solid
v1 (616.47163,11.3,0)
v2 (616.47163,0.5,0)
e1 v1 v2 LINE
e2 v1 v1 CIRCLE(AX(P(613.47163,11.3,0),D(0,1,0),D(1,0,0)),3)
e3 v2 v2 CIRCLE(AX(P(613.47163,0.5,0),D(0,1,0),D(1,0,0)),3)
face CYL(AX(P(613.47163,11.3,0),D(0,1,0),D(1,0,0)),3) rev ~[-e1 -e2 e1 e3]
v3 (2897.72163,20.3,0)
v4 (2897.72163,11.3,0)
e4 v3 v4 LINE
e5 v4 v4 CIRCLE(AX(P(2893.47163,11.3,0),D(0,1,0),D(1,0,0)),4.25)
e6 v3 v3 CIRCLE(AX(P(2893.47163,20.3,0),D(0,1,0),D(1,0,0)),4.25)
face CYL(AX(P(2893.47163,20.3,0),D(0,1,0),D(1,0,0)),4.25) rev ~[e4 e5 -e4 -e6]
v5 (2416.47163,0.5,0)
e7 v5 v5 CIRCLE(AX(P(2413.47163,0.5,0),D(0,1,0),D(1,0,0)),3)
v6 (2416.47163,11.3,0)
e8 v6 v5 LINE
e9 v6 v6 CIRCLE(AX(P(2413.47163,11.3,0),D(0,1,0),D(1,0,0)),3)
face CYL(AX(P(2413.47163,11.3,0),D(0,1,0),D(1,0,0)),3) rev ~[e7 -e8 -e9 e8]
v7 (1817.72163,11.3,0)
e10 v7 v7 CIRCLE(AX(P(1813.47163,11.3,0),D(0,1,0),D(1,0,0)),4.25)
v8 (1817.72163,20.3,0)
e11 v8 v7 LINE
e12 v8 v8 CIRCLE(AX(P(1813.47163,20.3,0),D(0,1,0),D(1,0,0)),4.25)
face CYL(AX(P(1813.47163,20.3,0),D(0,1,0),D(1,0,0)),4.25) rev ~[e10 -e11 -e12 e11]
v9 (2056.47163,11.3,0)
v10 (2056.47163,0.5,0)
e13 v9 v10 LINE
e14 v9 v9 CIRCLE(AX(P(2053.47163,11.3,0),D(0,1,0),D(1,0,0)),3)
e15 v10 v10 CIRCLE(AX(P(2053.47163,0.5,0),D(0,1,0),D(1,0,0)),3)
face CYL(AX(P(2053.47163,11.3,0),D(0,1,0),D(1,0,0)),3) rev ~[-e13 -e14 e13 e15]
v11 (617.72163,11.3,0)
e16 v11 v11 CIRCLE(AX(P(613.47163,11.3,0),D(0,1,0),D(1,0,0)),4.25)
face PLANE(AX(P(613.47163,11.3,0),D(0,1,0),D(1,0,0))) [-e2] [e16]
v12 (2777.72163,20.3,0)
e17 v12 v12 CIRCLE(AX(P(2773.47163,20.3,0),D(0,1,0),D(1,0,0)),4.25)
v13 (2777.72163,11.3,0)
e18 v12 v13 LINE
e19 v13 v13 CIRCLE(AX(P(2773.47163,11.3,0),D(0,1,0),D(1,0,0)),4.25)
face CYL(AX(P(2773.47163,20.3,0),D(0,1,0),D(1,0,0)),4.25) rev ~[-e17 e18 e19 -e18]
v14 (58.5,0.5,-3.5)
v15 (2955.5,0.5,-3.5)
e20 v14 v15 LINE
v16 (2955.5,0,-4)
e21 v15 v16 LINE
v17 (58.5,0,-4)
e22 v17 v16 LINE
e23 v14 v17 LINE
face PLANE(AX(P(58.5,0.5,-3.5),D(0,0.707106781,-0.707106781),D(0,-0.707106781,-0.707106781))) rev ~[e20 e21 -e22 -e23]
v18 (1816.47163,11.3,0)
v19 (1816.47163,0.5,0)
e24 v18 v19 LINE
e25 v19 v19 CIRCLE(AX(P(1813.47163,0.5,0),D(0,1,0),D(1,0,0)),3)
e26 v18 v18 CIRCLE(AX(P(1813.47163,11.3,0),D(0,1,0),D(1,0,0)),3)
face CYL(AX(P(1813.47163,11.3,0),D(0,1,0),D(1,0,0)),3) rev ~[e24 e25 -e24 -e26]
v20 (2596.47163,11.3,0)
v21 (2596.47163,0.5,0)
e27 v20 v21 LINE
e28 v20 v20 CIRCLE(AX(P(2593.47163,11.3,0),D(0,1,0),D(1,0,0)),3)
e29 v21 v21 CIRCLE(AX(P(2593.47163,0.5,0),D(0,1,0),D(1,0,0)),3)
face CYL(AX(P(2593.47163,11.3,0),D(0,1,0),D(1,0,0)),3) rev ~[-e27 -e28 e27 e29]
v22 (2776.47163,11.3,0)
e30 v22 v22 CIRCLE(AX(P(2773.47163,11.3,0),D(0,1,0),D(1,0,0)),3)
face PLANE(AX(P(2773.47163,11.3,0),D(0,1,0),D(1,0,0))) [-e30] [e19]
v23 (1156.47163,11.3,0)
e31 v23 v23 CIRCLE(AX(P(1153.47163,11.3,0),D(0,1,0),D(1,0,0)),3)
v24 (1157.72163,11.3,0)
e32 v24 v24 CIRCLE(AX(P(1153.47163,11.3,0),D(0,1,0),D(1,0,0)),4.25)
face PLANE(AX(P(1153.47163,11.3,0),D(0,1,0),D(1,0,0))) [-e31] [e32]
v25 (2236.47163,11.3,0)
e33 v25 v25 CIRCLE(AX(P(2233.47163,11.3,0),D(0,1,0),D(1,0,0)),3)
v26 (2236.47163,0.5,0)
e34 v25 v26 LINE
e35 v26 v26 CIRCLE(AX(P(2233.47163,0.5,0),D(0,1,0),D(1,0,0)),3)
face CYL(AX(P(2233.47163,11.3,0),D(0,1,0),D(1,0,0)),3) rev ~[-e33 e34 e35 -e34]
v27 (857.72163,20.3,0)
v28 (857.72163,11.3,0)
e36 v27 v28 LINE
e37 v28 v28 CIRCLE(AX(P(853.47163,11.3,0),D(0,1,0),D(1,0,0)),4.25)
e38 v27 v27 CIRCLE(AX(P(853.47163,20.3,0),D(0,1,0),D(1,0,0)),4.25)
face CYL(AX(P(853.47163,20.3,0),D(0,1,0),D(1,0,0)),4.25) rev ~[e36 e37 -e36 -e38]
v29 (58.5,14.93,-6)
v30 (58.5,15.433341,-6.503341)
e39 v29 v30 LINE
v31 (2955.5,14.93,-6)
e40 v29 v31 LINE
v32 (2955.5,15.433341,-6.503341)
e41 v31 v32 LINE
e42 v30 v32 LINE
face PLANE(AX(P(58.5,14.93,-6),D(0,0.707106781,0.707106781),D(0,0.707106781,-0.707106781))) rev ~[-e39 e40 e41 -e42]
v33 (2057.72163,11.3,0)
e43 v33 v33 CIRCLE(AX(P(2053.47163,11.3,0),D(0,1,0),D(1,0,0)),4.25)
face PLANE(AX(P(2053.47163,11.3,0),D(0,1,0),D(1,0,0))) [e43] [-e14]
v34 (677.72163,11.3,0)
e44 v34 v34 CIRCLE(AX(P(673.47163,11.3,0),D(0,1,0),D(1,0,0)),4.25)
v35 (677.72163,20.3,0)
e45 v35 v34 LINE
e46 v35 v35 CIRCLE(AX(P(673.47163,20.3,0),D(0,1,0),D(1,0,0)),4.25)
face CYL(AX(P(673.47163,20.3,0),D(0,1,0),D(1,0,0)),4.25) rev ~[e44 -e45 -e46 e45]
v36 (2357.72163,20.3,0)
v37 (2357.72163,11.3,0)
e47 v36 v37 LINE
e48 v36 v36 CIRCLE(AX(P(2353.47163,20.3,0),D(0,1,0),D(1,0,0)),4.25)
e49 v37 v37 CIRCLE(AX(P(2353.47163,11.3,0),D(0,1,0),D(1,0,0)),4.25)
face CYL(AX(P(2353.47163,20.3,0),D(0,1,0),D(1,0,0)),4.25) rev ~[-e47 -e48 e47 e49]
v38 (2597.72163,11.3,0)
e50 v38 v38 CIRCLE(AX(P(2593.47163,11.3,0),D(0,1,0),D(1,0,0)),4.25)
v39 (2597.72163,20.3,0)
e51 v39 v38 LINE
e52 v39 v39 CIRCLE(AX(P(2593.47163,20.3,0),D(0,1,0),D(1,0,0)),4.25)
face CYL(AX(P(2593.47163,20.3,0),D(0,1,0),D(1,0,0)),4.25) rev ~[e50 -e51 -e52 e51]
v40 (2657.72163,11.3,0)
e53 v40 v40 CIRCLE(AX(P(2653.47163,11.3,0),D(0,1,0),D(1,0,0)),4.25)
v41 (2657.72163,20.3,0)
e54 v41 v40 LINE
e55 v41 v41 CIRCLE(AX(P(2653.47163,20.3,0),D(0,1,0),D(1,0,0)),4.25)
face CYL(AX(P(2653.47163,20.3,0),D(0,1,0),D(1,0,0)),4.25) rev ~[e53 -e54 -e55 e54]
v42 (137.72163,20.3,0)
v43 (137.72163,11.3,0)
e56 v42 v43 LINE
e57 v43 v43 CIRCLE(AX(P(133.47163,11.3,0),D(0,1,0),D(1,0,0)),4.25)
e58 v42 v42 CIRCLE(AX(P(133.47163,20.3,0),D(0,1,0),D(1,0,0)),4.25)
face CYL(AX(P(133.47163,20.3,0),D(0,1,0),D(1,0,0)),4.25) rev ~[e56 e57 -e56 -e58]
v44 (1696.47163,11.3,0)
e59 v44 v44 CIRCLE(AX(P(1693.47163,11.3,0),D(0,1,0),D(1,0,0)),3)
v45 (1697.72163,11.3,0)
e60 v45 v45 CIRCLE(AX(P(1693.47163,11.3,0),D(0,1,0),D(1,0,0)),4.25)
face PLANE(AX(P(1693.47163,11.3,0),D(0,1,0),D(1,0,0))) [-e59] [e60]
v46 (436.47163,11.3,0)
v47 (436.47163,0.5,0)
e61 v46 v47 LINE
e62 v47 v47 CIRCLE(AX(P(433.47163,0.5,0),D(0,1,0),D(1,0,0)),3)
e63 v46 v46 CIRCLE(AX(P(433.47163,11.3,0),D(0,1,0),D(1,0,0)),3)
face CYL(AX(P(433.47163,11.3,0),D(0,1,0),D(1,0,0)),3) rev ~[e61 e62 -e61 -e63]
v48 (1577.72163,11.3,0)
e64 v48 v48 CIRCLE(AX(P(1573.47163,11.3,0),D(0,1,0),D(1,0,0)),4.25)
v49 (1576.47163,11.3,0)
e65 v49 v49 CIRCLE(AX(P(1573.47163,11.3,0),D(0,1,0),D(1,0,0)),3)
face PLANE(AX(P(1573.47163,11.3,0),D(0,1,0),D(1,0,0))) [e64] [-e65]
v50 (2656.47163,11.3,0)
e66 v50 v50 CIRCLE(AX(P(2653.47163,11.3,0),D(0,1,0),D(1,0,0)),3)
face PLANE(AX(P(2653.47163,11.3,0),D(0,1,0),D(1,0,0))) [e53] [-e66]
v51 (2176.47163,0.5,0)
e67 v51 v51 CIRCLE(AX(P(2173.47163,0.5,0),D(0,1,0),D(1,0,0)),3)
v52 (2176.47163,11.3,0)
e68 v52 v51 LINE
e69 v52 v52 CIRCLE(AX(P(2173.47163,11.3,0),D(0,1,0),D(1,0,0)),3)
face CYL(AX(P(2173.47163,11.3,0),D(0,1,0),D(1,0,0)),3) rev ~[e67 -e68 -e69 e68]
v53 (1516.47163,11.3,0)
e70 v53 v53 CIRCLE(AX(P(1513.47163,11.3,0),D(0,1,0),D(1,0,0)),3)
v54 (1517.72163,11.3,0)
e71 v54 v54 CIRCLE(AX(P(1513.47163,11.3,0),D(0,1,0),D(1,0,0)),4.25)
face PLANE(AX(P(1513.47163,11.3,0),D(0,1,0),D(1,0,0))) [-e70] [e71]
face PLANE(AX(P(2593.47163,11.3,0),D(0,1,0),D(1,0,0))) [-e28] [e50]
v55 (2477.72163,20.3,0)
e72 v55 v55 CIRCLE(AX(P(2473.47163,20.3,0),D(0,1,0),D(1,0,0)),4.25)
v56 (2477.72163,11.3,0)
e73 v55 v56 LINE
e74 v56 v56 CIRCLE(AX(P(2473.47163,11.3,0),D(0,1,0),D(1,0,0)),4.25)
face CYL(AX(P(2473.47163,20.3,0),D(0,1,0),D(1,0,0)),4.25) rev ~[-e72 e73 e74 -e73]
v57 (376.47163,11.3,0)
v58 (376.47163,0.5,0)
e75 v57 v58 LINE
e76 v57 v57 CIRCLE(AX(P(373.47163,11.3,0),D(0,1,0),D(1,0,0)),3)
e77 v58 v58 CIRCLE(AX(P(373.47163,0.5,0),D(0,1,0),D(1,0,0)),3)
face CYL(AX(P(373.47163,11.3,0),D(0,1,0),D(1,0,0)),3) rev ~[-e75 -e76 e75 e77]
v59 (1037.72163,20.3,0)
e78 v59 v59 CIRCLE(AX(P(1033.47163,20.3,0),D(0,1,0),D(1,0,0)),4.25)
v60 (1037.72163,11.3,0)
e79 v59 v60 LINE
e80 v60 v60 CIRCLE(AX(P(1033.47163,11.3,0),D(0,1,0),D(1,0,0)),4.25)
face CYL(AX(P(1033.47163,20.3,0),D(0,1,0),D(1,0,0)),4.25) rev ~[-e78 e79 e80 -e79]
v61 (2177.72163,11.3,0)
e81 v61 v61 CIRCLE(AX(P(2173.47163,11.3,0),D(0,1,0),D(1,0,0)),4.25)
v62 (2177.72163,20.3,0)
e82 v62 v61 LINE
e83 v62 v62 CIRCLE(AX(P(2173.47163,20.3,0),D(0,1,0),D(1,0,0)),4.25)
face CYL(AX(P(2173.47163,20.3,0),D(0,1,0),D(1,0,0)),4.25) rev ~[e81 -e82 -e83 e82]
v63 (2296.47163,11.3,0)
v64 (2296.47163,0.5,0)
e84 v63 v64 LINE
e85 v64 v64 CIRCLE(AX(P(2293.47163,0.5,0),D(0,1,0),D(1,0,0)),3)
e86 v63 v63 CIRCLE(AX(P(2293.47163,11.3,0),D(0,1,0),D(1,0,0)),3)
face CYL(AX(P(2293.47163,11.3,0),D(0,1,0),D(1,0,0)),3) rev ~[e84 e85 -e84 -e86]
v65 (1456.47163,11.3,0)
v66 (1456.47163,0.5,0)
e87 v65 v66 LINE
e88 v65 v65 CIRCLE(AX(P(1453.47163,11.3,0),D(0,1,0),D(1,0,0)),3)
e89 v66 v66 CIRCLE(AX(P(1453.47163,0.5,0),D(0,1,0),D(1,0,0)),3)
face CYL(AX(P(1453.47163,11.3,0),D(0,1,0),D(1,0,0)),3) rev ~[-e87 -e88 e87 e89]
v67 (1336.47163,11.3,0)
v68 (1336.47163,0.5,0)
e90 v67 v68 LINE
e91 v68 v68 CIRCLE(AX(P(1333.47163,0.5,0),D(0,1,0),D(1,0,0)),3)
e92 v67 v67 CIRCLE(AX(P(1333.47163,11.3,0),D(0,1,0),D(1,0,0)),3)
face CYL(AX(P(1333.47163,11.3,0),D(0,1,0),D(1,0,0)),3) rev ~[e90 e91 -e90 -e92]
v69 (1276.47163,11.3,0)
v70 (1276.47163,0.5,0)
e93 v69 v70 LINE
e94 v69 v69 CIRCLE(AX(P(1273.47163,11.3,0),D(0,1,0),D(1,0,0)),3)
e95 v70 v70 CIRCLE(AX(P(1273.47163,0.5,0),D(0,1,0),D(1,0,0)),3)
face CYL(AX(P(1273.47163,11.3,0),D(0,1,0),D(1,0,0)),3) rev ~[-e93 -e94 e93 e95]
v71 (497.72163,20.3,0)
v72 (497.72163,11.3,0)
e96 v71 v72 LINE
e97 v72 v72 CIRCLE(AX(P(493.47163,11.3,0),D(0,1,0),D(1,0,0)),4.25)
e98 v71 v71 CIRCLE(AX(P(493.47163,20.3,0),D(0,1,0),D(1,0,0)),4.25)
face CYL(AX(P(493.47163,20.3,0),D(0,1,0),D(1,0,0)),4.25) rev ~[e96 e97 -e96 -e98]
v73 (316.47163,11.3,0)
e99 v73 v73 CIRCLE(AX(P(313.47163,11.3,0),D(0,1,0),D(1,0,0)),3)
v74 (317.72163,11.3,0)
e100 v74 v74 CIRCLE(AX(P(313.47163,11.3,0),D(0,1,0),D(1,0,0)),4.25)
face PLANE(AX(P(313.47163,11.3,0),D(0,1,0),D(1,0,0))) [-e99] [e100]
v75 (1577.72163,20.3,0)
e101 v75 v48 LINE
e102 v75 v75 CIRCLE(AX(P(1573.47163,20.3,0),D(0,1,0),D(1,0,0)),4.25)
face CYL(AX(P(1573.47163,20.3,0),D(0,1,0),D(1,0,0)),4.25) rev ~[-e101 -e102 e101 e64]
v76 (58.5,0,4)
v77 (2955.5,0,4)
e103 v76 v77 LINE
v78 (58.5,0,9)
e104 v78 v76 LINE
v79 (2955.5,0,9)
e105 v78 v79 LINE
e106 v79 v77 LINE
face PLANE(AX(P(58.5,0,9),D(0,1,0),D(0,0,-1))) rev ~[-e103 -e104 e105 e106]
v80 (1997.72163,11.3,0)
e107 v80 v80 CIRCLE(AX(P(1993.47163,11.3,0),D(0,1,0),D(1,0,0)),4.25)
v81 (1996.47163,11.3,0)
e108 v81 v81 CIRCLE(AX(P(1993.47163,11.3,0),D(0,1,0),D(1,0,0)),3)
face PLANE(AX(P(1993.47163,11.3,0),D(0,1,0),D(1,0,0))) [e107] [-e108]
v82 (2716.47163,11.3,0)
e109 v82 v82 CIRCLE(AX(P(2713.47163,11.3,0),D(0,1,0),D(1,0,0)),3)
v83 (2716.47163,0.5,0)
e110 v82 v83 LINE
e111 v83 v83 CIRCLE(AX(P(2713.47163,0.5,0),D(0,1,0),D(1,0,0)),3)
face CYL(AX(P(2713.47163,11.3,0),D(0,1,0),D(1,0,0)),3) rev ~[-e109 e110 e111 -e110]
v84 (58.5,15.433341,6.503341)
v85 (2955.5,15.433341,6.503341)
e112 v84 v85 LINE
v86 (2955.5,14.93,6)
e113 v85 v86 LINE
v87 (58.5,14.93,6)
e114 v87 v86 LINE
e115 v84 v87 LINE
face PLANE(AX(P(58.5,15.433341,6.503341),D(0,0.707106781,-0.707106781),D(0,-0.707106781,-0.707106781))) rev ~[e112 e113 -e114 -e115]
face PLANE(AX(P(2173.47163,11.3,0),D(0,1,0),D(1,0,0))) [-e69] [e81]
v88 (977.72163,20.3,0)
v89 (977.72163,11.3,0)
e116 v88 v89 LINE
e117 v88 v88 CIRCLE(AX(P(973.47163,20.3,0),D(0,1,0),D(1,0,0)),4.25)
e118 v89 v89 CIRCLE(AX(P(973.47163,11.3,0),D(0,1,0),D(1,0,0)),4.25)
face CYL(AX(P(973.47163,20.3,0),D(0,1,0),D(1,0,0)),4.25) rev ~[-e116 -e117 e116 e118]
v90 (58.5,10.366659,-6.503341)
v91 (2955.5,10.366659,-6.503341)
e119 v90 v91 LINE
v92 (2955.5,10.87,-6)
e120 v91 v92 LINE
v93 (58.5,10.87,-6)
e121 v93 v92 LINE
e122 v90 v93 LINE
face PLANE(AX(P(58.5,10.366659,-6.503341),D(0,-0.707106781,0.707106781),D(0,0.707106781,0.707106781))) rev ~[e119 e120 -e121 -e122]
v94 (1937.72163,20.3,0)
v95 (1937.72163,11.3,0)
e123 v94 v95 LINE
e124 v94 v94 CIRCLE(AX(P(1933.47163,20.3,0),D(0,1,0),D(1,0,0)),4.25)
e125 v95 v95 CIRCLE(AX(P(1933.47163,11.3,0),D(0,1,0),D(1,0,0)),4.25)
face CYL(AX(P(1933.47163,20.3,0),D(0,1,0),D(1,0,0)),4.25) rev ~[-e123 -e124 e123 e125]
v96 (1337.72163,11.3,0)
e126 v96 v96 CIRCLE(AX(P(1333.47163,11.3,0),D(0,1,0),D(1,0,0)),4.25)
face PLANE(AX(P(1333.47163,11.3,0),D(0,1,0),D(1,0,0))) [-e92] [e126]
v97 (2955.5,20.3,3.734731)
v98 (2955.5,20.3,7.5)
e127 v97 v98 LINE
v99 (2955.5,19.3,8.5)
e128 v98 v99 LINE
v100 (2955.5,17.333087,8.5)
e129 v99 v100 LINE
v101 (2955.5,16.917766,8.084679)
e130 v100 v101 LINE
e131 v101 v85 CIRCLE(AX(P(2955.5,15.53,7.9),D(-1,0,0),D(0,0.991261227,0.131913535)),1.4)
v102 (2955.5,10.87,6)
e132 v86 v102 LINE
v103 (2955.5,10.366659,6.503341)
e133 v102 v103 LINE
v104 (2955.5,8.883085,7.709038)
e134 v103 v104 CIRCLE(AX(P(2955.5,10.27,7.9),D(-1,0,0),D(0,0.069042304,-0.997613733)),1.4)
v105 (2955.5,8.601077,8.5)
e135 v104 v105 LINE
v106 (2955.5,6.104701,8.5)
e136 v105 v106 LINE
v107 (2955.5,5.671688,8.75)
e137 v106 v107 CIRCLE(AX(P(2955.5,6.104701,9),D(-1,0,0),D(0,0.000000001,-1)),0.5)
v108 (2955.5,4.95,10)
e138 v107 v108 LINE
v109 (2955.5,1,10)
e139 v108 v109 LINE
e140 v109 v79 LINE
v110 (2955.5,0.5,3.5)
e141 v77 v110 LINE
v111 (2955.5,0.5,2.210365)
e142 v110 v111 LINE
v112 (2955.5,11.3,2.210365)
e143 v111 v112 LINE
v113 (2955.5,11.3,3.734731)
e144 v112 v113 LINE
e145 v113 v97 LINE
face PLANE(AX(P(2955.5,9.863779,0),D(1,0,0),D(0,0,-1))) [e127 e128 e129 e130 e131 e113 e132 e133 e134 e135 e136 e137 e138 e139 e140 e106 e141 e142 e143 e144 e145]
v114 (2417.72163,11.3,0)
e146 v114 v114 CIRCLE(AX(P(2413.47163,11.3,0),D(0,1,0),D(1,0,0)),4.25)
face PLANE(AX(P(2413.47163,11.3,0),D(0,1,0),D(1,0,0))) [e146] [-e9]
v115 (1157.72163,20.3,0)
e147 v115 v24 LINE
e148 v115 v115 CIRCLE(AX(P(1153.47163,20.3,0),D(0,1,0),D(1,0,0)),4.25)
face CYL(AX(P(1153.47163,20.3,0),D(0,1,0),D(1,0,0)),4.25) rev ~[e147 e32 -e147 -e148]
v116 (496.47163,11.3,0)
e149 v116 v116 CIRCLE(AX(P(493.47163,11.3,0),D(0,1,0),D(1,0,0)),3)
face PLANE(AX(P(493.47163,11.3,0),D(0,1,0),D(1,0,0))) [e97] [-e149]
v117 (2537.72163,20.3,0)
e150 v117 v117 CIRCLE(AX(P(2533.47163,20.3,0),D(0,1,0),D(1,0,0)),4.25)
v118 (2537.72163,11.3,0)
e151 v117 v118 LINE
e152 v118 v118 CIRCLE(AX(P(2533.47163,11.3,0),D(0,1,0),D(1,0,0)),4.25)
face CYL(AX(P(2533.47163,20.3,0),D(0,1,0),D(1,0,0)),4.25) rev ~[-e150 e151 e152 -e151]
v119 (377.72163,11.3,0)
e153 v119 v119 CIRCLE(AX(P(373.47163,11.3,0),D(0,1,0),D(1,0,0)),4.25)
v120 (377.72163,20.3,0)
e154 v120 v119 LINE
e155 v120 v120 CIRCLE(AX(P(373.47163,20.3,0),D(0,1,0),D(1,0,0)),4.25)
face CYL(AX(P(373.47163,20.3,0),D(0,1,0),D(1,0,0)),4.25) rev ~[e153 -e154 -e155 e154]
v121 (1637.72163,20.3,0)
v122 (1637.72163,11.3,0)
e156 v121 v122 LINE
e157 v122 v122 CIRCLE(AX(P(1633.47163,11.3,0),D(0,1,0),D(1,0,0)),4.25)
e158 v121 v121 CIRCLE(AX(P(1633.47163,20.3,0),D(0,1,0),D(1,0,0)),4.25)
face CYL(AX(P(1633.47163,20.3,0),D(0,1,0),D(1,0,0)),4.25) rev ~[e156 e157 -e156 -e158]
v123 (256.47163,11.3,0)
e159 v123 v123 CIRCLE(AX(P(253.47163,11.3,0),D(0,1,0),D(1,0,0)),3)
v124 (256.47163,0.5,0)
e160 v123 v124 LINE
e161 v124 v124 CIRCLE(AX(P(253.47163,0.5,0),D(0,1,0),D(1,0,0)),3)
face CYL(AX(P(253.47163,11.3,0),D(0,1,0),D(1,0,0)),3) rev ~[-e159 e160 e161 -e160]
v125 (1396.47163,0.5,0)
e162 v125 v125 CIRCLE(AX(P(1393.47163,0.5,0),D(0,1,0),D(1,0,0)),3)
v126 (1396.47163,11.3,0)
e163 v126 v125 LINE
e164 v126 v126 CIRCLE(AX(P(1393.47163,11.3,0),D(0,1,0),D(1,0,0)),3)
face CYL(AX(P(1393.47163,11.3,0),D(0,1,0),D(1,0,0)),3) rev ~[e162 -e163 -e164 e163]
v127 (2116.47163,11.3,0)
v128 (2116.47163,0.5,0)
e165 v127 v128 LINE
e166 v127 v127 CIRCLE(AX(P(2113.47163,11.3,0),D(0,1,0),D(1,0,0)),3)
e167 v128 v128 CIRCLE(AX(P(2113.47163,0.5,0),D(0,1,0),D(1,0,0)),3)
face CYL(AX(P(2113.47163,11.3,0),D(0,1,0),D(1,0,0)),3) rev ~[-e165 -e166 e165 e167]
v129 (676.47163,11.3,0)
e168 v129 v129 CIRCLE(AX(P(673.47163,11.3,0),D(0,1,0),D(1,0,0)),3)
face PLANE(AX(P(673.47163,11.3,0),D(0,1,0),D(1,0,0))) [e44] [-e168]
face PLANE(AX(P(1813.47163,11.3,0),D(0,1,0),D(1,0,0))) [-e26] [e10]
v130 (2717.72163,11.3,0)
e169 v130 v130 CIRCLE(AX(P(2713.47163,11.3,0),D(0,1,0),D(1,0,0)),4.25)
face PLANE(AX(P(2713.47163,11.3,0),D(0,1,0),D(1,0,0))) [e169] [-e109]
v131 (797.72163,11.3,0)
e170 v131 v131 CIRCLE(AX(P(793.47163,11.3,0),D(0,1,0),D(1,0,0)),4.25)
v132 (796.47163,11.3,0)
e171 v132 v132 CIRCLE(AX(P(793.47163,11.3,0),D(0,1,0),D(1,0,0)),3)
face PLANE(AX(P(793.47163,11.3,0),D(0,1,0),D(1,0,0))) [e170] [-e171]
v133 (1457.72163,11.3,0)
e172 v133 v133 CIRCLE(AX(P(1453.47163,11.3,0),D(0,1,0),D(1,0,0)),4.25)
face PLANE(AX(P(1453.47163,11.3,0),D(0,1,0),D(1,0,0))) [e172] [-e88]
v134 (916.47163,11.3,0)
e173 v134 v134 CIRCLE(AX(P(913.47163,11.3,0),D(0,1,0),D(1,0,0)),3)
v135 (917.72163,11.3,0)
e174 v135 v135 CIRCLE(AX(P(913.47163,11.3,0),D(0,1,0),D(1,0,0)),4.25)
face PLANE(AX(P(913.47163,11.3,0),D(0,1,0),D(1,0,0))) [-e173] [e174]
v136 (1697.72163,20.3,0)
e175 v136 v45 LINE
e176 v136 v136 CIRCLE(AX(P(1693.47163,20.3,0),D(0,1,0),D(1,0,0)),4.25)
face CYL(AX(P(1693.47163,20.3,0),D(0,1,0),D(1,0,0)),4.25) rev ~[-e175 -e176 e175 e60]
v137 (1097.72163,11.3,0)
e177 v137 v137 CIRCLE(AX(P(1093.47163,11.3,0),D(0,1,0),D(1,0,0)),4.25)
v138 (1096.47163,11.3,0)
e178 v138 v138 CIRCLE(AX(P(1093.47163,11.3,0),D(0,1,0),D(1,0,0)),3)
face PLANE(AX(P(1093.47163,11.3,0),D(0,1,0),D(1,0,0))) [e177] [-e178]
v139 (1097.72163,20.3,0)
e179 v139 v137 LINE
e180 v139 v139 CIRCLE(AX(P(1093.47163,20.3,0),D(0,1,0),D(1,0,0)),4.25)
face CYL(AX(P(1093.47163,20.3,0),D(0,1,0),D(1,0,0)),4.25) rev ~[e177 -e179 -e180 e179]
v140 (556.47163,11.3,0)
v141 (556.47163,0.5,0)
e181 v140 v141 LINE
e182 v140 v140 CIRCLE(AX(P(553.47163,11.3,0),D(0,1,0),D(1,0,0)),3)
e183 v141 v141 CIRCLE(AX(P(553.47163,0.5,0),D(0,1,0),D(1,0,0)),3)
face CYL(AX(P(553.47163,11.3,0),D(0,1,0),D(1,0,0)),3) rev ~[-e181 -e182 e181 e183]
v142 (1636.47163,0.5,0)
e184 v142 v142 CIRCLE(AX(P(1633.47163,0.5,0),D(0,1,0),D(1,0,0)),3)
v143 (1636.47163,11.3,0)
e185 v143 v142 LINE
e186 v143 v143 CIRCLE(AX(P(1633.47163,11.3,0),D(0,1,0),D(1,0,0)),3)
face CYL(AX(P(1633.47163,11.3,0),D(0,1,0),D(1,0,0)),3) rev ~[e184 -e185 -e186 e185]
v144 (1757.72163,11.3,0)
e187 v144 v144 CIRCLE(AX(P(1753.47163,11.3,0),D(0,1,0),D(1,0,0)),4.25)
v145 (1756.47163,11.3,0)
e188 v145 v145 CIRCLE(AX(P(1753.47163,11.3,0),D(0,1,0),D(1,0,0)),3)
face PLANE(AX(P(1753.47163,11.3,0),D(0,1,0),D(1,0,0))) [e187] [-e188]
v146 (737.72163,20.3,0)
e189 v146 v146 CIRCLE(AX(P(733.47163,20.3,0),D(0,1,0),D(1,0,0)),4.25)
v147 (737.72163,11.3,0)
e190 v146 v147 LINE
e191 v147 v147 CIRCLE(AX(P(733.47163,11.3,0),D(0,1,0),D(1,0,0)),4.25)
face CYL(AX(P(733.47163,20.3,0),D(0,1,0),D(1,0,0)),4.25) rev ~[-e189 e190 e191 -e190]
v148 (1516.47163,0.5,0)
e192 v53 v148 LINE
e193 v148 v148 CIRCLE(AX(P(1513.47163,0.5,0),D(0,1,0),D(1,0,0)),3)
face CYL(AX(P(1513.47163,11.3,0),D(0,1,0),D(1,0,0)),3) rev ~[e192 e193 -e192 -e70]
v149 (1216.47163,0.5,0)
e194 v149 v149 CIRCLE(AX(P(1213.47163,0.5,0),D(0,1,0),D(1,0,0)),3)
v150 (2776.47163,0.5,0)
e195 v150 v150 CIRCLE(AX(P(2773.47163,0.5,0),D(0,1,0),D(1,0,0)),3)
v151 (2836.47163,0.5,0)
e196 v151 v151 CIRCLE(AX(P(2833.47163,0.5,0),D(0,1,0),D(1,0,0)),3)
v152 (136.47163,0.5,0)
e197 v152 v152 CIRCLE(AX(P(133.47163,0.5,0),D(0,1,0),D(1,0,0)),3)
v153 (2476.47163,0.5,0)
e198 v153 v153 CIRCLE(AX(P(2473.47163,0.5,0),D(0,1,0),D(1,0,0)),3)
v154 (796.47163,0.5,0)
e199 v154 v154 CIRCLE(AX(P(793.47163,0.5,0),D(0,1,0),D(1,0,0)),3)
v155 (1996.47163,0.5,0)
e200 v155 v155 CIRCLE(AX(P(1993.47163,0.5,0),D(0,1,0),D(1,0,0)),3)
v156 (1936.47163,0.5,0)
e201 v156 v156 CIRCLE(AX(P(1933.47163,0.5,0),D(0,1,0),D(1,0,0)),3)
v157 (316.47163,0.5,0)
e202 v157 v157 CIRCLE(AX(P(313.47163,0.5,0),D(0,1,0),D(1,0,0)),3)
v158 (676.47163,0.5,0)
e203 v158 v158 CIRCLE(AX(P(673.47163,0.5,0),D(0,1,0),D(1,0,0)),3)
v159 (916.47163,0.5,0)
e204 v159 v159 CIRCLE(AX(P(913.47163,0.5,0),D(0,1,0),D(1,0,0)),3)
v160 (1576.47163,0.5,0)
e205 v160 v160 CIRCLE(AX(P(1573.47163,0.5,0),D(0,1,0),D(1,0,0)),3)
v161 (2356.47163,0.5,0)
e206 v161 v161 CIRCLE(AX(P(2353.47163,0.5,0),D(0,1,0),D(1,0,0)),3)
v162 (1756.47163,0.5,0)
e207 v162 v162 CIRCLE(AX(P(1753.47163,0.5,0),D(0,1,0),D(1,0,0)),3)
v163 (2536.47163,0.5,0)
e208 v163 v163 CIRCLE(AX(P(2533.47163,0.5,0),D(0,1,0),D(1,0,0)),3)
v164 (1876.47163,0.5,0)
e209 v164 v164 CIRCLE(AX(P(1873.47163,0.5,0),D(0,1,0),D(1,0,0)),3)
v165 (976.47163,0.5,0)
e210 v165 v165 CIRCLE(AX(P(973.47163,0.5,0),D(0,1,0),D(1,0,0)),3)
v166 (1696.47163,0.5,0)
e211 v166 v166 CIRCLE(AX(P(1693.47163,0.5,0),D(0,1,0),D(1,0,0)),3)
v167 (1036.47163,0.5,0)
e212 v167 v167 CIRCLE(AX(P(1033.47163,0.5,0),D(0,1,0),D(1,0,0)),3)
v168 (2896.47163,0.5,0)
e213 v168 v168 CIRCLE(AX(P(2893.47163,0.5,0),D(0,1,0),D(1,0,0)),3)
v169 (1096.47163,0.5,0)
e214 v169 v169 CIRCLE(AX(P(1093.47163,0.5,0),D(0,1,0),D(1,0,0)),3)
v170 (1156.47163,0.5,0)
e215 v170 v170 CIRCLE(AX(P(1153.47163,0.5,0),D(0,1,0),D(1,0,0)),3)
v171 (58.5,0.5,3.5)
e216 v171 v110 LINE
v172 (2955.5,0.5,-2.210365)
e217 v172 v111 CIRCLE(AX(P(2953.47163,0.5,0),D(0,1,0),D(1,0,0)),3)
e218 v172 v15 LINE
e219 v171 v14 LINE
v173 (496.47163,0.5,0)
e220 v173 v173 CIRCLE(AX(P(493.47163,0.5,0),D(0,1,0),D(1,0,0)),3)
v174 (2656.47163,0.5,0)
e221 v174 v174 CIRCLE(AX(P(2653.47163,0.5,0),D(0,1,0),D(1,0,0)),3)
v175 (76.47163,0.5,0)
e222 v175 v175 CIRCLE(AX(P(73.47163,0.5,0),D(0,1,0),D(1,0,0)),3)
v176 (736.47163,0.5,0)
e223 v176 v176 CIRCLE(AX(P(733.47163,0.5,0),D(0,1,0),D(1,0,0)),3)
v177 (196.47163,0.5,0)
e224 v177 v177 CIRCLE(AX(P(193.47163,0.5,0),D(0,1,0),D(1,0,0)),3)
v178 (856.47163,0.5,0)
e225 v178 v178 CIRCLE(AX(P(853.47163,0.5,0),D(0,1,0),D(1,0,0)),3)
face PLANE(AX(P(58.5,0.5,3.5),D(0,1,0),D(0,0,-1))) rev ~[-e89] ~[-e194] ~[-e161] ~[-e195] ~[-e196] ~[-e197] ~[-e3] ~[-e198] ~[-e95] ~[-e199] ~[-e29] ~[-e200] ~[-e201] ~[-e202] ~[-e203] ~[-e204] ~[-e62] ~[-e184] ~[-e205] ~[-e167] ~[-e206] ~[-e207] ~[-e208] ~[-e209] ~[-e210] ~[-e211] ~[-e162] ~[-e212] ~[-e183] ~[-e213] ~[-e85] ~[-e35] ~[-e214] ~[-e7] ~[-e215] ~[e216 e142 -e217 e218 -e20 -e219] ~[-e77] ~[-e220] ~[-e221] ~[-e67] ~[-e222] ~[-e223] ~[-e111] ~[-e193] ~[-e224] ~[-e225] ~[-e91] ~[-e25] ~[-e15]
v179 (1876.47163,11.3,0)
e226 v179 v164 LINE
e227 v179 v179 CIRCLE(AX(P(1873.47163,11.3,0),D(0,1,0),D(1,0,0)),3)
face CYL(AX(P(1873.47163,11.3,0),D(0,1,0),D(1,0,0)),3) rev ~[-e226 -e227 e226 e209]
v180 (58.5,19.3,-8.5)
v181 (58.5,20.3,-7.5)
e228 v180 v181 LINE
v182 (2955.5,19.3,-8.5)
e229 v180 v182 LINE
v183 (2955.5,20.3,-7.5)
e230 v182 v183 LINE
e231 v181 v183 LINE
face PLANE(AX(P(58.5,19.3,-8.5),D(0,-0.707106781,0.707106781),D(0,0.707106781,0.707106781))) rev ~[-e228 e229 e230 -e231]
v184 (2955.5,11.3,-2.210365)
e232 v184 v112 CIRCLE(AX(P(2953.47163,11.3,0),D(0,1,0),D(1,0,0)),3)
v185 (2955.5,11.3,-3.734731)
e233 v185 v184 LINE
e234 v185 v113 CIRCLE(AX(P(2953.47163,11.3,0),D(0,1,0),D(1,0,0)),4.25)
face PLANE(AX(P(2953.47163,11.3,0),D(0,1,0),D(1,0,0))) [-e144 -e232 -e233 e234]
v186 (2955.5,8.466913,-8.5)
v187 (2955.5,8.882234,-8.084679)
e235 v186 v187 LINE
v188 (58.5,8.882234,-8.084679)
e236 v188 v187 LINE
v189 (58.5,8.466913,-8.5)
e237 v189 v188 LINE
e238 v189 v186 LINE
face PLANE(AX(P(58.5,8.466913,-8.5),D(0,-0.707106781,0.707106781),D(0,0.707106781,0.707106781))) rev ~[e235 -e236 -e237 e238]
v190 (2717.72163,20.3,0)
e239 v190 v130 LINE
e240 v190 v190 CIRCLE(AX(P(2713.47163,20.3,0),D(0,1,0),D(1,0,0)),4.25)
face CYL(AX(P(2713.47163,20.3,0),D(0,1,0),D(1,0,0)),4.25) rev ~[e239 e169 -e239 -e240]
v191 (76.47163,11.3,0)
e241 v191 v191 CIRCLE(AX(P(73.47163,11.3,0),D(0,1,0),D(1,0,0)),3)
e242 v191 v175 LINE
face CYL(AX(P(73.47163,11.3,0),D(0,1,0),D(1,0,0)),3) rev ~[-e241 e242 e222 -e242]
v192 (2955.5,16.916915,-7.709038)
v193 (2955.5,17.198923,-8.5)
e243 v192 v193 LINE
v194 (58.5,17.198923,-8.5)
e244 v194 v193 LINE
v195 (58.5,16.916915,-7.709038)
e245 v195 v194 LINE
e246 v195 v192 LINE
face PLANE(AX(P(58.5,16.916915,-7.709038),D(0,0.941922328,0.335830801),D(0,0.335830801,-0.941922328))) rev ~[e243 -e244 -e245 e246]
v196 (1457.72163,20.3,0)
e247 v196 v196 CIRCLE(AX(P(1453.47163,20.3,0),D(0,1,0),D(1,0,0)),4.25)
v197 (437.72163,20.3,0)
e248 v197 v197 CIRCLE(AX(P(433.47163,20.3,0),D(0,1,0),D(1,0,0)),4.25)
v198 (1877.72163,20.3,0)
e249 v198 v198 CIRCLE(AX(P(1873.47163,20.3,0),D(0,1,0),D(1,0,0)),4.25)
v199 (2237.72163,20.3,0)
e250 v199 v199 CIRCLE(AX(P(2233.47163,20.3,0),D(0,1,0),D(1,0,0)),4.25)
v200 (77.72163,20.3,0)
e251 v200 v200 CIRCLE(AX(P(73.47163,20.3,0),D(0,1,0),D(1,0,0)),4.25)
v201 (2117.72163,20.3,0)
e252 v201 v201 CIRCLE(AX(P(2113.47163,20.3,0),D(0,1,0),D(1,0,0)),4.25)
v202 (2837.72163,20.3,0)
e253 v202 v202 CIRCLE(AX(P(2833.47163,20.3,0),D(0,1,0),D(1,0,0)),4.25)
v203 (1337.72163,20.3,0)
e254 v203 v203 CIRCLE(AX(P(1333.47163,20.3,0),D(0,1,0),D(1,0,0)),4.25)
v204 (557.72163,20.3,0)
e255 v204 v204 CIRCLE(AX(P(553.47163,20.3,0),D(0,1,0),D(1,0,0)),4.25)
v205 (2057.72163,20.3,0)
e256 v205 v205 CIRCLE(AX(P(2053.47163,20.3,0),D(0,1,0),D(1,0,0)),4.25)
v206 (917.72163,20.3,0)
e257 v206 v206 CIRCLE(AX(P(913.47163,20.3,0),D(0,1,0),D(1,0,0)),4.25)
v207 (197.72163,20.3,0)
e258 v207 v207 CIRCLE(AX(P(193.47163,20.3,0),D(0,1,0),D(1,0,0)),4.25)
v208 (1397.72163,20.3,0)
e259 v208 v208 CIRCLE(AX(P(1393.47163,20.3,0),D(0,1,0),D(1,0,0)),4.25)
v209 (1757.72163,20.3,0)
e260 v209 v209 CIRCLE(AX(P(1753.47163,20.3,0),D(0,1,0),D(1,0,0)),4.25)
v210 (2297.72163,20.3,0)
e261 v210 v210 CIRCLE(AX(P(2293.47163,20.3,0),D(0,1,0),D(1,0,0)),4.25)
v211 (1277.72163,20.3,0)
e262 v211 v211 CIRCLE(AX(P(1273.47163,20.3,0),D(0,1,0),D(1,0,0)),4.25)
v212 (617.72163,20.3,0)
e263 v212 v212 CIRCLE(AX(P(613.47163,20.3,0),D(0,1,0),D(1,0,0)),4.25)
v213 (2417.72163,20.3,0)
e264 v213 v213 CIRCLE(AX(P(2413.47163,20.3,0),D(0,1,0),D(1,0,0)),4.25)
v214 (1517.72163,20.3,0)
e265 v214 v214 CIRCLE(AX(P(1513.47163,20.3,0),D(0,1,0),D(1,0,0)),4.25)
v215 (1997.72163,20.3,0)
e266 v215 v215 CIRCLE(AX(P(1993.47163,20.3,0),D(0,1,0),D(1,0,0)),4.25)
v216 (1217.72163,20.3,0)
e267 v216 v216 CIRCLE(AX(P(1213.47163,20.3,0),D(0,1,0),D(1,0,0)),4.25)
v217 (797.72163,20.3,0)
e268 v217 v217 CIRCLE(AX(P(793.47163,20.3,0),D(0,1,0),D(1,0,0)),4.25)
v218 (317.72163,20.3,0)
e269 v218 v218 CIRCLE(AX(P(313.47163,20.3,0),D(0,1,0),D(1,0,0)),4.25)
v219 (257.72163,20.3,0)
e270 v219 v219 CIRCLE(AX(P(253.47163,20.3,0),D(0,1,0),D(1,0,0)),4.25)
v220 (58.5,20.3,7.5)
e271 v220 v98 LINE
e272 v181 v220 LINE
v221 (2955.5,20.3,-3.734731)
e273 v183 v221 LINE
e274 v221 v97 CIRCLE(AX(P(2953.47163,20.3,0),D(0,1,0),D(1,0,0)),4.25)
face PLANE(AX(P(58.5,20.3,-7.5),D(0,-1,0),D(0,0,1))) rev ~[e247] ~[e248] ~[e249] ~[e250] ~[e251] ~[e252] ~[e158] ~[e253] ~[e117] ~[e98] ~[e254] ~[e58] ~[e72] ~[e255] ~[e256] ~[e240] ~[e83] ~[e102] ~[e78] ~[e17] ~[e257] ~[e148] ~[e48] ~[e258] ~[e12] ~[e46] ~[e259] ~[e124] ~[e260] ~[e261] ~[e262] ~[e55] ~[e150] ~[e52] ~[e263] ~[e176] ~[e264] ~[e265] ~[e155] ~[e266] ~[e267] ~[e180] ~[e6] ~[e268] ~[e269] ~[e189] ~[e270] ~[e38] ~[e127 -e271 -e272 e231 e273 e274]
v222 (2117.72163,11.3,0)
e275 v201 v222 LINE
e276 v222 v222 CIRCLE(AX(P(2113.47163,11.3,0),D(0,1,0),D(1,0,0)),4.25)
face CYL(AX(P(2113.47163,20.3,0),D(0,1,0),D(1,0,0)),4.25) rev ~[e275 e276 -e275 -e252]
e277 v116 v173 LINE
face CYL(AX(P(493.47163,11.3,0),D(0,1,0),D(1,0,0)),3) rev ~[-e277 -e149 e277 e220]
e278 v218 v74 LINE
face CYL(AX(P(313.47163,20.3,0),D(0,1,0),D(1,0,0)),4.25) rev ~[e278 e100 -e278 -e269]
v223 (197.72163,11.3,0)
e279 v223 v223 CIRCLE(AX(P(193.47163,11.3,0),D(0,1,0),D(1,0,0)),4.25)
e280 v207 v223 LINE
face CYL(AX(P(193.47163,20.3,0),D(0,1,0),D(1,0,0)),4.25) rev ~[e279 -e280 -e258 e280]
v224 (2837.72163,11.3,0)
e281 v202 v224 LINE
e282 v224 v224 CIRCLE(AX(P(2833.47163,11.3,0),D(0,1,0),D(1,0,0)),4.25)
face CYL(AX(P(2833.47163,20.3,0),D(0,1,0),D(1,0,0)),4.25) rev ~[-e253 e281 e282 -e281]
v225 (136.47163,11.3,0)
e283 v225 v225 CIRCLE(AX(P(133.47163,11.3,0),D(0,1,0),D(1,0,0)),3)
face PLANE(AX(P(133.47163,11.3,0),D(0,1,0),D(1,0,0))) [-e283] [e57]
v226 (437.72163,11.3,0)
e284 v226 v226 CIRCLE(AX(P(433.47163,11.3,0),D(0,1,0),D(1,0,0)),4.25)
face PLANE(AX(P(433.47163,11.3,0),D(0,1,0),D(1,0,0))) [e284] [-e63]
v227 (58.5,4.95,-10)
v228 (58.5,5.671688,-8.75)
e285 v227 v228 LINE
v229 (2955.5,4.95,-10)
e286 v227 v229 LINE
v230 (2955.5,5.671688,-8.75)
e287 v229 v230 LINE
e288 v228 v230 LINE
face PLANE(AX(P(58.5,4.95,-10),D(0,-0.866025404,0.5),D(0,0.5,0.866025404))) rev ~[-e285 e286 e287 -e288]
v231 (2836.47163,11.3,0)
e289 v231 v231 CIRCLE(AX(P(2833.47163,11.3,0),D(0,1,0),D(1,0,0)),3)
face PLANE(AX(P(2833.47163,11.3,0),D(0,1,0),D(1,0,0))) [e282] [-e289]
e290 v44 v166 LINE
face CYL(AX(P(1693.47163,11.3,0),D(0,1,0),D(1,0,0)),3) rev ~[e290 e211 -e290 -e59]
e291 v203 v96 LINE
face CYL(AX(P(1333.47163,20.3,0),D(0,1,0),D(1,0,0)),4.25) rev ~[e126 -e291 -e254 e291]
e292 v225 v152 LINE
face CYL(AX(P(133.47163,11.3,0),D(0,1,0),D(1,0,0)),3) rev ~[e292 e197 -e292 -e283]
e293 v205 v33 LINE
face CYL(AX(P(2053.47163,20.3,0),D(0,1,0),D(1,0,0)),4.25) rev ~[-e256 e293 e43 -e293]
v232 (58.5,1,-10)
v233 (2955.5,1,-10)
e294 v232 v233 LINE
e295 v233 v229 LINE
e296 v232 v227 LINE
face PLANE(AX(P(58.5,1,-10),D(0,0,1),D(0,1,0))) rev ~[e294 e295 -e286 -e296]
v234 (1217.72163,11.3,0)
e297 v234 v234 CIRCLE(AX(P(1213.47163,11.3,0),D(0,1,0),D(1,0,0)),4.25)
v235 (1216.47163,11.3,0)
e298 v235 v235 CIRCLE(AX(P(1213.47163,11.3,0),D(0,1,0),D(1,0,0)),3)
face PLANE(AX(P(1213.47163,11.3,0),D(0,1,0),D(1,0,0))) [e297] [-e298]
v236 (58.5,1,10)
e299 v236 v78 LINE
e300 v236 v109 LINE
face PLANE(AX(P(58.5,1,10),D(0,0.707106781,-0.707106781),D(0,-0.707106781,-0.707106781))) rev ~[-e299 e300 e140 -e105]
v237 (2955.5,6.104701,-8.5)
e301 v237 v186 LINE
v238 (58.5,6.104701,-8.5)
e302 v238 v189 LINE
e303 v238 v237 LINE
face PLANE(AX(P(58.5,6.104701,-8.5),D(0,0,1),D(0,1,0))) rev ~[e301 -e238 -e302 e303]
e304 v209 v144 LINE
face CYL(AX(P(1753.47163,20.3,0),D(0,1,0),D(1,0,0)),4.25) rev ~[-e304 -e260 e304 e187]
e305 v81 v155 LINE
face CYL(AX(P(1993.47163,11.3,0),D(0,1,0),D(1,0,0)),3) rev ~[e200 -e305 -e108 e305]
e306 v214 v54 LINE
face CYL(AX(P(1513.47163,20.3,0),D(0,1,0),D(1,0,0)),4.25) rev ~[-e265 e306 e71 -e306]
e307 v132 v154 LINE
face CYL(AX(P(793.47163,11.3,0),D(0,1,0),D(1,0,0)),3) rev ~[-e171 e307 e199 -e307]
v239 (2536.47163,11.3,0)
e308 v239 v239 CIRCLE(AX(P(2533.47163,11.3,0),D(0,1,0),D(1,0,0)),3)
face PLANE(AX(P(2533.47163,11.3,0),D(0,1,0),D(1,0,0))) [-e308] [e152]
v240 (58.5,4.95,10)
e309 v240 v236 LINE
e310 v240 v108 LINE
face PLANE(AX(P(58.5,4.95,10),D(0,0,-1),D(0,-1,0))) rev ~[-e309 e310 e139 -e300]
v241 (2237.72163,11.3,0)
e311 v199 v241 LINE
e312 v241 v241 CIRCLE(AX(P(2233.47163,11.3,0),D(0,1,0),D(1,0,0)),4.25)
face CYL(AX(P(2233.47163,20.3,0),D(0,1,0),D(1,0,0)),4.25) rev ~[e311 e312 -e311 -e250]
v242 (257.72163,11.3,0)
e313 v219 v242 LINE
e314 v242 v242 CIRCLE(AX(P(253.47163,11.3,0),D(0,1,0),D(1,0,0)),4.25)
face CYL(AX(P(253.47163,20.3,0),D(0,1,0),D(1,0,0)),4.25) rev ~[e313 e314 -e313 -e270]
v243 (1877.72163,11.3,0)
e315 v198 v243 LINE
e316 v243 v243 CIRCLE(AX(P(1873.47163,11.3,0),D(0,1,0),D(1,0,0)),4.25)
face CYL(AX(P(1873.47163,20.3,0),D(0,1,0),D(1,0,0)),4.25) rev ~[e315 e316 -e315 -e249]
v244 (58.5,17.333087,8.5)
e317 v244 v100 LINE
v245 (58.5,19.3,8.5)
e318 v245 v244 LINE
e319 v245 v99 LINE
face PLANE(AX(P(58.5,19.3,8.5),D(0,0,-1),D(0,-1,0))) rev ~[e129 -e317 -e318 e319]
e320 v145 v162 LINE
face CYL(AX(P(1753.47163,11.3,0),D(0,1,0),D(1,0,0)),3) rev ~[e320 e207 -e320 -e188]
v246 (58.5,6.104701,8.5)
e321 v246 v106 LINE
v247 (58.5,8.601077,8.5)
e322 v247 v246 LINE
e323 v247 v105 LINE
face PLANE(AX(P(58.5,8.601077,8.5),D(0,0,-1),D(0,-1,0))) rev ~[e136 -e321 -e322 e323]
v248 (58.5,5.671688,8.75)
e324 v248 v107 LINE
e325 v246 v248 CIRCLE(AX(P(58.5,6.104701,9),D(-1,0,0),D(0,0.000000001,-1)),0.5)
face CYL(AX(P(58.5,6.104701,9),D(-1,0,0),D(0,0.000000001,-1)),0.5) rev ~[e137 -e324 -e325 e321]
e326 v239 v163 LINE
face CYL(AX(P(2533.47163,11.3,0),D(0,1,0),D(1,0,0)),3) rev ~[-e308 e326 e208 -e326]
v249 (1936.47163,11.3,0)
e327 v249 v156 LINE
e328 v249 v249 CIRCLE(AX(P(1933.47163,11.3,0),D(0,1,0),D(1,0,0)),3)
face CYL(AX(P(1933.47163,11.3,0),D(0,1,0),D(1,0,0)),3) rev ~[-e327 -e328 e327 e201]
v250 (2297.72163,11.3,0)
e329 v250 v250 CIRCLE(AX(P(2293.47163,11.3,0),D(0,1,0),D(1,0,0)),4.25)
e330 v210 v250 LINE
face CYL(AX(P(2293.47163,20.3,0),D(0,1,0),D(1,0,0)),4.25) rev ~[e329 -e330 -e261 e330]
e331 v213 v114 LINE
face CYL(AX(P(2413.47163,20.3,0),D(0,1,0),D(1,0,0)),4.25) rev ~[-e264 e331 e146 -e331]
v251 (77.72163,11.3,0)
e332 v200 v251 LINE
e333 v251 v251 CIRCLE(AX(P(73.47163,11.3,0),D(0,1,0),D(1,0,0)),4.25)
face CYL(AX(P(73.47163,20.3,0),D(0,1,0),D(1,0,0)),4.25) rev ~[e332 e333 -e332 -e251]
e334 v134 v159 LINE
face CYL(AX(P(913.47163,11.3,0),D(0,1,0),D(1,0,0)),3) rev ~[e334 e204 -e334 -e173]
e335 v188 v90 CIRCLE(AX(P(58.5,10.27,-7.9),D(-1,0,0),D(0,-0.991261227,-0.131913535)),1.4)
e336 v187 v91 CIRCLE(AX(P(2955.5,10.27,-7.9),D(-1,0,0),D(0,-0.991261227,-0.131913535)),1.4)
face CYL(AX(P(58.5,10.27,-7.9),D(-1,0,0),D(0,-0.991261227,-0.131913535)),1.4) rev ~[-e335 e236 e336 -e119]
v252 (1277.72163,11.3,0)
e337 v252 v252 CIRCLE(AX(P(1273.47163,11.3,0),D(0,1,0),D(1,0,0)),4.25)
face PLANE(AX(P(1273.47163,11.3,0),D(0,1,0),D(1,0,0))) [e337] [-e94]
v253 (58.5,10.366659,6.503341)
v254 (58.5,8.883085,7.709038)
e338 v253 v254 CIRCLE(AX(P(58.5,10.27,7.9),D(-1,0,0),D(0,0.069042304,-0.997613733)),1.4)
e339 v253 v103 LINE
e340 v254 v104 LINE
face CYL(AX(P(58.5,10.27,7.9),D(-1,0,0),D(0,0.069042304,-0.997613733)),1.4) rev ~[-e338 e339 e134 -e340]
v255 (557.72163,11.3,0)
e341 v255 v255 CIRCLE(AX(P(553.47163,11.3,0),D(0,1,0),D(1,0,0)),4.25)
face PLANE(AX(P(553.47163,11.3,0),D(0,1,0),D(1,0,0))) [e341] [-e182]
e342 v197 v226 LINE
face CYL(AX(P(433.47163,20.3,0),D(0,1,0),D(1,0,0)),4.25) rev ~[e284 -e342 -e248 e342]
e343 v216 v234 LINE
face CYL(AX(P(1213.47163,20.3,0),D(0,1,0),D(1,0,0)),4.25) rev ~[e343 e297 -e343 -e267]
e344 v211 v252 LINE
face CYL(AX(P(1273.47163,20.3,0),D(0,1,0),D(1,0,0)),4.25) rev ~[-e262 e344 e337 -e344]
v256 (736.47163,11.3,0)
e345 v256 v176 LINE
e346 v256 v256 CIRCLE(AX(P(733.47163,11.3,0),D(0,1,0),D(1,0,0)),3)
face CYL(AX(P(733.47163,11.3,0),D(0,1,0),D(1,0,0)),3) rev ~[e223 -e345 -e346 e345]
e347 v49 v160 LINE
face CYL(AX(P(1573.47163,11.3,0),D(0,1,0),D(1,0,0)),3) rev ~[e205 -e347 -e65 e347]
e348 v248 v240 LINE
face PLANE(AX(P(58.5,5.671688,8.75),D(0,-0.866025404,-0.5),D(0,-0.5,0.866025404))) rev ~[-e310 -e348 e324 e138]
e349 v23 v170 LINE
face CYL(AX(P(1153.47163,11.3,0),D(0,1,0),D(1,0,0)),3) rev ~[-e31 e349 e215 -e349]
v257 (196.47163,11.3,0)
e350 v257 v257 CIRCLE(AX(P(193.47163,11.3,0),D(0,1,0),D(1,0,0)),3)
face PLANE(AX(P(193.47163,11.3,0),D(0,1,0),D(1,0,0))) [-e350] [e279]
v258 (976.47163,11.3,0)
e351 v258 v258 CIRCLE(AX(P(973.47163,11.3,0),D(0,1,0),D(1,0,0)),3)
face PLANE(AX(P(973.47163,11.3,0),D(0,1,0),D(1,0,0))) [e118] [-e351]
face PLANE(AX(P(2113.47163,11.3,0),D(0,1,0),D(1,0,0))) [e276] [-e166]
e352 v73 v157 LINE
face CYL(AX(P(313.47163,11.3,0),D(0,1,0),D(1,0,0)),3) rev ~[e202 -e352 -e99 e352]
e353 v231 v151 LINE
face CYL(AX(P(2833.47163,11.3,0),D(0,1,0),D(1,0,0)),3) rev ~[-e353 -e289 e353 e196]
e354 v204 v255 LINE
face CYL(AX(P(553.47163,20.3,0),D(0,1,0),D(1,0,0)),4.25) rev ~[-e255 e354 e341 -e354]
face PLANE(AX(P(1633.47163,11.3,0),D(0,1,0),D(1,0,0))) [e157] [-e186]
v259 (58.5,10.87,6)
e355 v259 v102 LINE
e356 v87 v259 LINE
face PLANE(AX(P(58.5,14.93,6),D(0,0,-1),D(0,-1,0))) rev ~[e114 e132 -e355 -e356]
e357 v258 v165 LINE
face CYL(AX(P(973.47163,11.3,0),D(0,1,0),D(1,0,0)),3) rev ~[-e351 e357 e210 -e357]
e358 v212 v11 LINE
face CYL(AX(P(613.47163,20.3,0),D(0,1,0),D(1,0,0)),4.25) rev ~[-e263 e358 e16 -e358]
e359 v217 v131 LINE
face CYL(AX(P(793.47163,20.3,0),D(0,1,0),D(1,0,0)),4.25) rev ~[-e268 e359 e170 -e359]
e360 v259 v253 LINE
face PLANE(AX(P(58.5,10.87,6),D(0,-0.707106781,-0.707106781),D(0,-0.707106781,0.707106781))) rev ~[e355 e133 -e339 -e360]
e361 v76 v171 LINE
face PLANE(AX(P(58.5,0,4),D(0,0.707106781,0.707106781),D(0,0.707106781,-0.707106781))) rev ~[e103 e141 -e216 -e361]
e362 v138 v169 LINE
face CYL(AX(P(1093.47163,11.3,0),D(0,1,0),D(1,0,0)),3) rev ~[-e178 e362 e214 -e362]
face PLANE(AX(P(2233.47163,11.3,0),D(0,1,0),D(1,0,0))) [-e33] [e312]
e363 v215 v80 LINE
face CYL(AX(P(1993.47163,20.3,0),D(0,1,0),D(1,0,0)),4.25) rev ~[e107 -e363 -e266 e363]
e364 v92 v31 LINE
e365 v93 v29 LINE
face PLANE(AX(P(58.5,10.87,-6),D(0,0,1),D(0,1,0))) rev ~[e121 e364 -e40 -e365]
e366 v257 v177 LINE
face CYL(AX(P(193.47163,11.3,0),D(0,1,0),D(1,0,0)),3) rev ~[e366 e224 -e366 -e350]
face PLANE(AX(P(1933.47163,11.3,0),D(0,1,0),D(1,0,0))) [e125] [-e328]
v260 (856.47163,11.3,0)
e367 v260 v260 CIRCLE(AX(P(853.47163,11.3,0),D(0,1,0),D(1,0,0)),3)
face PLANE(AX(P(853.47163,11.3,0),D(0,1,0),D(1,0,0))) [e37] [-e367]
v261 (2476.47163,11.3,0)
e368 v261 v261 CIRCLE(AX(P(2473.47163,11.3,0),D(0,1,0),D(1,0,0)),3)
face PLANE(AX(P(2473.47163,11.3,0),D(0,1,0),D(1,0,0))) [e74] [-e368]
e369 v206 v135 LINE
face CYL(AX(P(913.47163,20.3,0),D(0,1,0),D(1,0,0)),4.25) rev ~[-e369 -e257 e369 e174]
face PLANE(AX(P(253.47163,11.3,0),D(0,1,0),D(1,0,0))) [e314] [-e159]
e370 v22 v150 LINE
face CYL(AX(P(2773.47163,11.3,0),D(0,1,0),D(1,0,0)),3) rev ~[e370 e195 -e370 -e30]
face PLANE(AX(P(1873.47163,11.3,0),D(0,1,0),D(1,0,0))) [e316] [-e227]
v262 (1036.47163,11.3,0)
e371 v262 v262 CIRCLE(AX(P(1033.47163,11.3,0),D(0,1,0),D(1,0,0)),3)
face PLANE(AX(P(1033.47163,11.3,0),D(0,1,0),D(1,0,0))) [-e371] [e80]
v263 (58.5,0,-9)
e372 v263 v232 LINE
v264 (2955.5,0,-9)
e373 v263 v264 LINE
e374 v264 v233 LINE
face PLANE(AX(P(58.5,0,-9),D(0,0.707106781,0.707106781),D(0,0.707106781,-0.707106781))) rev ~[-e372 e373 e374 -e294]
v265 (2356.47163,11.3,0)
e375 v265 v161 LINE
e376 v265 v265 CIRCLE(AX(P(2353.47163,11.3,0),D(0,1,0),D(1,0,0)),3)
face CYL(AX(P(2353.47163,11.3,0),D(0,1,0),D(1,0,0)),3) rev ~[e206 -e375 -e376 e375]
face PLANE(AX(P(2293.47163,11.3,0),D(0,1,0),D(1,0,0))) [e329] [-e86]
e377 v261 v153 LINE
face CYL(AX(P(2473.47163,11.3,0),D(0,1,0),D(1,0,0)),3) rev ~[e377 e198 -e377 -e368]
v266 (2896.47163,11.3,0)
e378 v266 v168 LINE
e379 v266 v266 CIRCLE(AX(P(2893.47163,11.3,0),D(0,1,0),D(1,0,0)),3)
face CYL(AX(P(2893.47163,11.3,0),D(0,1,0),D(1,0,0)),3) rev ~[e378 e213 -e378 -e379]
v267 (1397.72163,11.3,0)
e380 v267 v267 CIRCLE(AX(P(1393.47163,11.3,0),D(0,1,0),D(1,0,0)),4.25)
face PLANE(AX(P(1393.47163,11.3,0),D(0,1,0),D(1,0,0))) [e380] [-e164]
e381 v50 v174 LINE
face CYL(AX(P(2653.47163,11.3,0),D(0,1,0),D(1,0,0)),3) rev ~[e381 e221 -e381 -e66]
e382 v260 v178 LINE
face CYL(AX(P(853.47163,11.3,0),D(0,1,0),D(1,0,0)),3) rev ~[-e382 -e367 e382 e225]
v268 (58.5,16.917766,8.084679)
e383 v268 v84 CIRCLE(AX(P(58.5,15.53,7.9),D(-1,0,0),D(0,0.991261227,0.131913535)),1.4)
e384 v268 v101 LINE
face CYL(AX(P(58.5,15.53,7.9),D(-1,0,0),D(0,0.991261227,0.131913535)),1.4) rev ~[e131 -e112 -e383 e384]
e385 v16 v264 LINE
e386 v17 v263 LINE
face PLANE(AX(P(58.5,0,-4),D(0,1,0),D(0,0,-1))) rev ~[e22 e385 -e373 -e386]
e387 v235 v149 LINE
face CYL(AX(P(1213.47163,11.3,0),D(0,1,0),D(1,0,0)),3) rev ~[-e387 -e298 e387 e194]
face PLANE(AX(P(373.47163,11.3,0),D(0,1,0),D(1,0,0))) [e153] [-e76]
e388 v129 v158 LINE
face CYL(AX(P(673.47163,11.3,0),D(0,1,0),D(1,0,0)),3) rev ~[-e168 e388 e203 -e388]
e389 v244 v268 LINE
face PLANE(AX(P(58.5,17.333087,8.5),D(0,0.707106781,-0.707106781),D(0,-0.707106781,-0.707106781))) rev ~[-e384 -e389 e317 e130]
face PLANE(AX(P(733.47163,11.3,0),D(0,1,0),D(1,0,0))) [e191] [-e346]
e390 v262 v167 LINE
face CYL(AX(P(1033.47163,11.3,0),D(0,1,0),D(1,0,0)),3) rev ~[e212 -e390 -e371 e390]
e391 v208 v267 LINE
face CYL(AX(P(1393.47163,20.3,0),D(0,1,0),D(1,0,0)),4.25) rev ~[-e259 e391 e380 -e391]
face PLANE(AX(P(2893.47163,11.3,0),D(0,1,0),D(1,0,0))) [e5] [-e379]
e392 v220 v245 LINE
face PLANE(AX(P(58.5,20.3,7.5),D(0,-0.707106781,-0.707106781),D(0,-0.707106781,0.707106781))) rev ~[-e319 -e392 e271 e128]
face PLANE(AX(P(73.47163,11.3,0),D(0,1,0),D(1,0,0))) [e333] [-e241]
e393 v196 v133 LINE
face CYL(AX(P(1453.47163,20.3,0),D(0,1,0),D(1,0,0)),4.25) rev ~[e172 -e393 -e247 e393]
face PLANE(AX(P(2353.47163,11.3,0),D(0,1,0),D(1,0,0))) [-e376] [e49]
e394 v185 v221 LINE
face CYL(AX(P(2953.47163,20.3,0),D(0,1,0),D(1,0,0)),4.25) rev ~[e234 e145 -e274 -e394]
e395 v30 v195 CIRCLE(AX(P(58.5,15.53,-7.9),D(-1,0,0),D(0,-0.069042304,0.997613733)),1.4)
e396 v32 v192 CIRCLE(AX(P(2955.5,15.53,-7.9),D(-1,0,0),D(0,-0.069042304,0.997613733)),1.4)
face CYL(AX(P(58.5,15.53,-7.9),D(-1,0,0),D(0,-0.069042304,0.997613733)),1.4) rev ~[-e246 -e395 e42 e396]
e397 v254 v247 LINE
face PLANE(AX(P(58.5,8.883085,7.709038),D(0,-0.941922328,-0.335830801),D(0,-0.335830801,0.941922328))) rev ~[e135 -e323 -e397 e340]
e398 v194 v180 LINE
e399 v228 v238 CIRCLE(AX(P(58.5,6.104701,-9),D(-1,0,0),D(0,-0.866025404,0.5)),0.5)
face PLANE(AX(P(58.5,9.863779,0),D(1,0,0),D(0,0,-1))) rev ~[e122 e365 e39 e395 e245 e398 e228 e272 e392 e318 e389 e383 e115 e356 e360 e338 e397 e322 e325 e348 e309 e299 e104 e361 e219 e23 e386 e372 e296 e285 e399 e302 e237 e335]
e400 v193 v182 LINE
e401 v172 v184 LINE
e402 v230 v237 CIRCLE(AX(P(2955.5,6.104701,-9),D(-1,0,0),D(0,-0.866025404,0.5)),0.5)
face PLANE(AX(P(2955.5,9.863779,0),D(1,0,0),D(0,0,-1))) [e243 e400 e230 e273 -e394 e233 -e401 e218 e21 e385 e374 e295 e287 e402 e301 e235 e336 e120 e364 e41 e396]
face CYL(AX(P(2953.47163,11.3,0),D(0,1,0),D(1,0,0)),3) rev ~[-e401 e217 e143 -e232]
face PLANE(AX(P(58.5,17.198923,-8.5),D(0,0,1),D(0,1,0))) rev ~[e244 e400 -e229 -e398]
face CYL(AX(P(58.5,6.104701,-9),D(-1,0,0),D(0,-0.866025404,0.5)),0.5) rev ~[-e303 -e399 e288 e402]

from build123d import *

# Parameters (mm, degrees)
BOSS_EXTRUDE5_DEPTH = 2897
SKETCH8_R           = 4.25
CUT_EXTRUDE1_DEPTH  = 9
SKETCH9_R           = 3
CUT_EXTRUDE2_DEPTH  = 17
LPATTERN1_COUNT     = 50
LPATTERN1_PITCH     = 60


with BuildPart() as part:
    # Sketch7 → Boss-Extrude5 (new body)
    with BuildSketch(Plane(origin=(58.5, 0, 0), x_dir=(0, 0, -1), z_dir=(1, 0, 0))):
        with BuildLine():
            Line((-7.709038211, 8.883084864), (-8.5, 8.601077183))
            Line((-8.5, 8.601077183), (-8.5, 6.104700538))
            ThreePointArc((-8.5, 6.104700538), (-8.566987298, 5.854700538), (-8.75, 5.671687836))
            Line((-8.75, 5.671687836), (-10, 4.95))
            Line((-10, 4.95), (-10, 1))
            Line((-10, 1), (-9, 0))
            Line((-9, 0), (-4, 0))
            Line((-4, 0), (-3.5, 0.5))
            Line((-3.5, 0.5), (3.5, 0.5))
            Line((3.5, 0.5), (4, 0))
            Line((4, 0), (9, 0))
            Line((9, 0), (10, 1))
            Line((10, 1), (10, 4.95))
            Line((10, 4.95), (8.75, 5.671687836))
            ThreePointArc((8.75, 5.671687836), (8.566987298, 5.854700538), (8.5, 6.104700538))
            Line((8.5, 6.104700538), (8.5, 8.46691323))
            Line((8.5, 8.46691323), (8.084678947, 8.882234283))
            ThreePointArc((8.084678947, 8.882234283), (6.941822875, 9.249266637), (6.503340774, 10.366659226))
            Line((6.503340774, 10.366659226), (6, 10.87))
            Line((6, 10.87), (6, 14.93))
            Line((6, 14.93), (6.503340774, 15.433340774))
            ThreePointArc((6.503340774, 15.433340774), (6.813545517, 16.412959034), (7.709038211, 16.916915136))
            Line((7.709038211, 16.916915136), (8.5, 17.198922817))
            Line((8.5, 17.198922817), (8.5, 19.3))
            Line((8.5, 19.3), (7.5, 20.3))
            Line((7.5, 20.3), (-7.5, 20.3))
            Line((-7.5, 20.3), (-8.5, 19.3))
            Line((-8.5, 19.3), (-8.5, 17.33308677))
            Line((-8.5, 17.33308677), (-8.084678947, 16.917765717))
            ThreePointArc((-8.084678947, 16.917765717), (-6.941822875, 16.550733363), (-6.503340774, 15.433340774))
            Line((-6.503340774, 15.433340774), (-6, 14.93))
            Line((-6, 14.93), (-6, 10.87))
            Line((-6, 10.87), (-6.503340774, 10.366659226))
            ThreePointArc((-6.503340774, 10.366659226), (-6.813545517, 9.387040966), (-7.709038211, 8.883084864))
        make_face()
    extrude(amount=BOSS_EXTRUDE5_DEPTH)

    # Sketch8 → Cut-Extrude1 (cut)
    with BuildSketch(Plane(origin=(0, 20.3, 0), x_dir=(1, 0, 0), z_dir=(0, 1, 0))):
        with Locations((73.471629952, 0)):
            Circle(SKETCH8_R)
    cut_extrude1 = extrude(amount=-CUT_EXTRUDE1_DEPTH, mode=Mode.SUBTRACT)

    # Sketch9 → Cut-Extrude2 (cut)
    with BuildSketch(Plane(origin=(0, 11.3, 0), x_dir=(1, 0, 0), z_dir=(0, 1, 0))):
        with Locations((73.471629952, 0)):
            Circle(SKETCH9_R)
    cut_extrude2 = extrude(amount=-CUT_EXTRUDE2_DEPTH, mode=Mode.SUBTRACT)

    # LPattern1: Cut-Extrude1, Cut-Extrude2 ×50
    with Locations(*[(i * LPATTERN1_PITCH, 0, 0) for i in range(1, LPATTERN1_COUNT)]):
        add(cut_extrude1, mode=Mode.SUBTRACT)
        add(cut_extrude2, mode=Mode.SUBTRACT)


solid = part.part
